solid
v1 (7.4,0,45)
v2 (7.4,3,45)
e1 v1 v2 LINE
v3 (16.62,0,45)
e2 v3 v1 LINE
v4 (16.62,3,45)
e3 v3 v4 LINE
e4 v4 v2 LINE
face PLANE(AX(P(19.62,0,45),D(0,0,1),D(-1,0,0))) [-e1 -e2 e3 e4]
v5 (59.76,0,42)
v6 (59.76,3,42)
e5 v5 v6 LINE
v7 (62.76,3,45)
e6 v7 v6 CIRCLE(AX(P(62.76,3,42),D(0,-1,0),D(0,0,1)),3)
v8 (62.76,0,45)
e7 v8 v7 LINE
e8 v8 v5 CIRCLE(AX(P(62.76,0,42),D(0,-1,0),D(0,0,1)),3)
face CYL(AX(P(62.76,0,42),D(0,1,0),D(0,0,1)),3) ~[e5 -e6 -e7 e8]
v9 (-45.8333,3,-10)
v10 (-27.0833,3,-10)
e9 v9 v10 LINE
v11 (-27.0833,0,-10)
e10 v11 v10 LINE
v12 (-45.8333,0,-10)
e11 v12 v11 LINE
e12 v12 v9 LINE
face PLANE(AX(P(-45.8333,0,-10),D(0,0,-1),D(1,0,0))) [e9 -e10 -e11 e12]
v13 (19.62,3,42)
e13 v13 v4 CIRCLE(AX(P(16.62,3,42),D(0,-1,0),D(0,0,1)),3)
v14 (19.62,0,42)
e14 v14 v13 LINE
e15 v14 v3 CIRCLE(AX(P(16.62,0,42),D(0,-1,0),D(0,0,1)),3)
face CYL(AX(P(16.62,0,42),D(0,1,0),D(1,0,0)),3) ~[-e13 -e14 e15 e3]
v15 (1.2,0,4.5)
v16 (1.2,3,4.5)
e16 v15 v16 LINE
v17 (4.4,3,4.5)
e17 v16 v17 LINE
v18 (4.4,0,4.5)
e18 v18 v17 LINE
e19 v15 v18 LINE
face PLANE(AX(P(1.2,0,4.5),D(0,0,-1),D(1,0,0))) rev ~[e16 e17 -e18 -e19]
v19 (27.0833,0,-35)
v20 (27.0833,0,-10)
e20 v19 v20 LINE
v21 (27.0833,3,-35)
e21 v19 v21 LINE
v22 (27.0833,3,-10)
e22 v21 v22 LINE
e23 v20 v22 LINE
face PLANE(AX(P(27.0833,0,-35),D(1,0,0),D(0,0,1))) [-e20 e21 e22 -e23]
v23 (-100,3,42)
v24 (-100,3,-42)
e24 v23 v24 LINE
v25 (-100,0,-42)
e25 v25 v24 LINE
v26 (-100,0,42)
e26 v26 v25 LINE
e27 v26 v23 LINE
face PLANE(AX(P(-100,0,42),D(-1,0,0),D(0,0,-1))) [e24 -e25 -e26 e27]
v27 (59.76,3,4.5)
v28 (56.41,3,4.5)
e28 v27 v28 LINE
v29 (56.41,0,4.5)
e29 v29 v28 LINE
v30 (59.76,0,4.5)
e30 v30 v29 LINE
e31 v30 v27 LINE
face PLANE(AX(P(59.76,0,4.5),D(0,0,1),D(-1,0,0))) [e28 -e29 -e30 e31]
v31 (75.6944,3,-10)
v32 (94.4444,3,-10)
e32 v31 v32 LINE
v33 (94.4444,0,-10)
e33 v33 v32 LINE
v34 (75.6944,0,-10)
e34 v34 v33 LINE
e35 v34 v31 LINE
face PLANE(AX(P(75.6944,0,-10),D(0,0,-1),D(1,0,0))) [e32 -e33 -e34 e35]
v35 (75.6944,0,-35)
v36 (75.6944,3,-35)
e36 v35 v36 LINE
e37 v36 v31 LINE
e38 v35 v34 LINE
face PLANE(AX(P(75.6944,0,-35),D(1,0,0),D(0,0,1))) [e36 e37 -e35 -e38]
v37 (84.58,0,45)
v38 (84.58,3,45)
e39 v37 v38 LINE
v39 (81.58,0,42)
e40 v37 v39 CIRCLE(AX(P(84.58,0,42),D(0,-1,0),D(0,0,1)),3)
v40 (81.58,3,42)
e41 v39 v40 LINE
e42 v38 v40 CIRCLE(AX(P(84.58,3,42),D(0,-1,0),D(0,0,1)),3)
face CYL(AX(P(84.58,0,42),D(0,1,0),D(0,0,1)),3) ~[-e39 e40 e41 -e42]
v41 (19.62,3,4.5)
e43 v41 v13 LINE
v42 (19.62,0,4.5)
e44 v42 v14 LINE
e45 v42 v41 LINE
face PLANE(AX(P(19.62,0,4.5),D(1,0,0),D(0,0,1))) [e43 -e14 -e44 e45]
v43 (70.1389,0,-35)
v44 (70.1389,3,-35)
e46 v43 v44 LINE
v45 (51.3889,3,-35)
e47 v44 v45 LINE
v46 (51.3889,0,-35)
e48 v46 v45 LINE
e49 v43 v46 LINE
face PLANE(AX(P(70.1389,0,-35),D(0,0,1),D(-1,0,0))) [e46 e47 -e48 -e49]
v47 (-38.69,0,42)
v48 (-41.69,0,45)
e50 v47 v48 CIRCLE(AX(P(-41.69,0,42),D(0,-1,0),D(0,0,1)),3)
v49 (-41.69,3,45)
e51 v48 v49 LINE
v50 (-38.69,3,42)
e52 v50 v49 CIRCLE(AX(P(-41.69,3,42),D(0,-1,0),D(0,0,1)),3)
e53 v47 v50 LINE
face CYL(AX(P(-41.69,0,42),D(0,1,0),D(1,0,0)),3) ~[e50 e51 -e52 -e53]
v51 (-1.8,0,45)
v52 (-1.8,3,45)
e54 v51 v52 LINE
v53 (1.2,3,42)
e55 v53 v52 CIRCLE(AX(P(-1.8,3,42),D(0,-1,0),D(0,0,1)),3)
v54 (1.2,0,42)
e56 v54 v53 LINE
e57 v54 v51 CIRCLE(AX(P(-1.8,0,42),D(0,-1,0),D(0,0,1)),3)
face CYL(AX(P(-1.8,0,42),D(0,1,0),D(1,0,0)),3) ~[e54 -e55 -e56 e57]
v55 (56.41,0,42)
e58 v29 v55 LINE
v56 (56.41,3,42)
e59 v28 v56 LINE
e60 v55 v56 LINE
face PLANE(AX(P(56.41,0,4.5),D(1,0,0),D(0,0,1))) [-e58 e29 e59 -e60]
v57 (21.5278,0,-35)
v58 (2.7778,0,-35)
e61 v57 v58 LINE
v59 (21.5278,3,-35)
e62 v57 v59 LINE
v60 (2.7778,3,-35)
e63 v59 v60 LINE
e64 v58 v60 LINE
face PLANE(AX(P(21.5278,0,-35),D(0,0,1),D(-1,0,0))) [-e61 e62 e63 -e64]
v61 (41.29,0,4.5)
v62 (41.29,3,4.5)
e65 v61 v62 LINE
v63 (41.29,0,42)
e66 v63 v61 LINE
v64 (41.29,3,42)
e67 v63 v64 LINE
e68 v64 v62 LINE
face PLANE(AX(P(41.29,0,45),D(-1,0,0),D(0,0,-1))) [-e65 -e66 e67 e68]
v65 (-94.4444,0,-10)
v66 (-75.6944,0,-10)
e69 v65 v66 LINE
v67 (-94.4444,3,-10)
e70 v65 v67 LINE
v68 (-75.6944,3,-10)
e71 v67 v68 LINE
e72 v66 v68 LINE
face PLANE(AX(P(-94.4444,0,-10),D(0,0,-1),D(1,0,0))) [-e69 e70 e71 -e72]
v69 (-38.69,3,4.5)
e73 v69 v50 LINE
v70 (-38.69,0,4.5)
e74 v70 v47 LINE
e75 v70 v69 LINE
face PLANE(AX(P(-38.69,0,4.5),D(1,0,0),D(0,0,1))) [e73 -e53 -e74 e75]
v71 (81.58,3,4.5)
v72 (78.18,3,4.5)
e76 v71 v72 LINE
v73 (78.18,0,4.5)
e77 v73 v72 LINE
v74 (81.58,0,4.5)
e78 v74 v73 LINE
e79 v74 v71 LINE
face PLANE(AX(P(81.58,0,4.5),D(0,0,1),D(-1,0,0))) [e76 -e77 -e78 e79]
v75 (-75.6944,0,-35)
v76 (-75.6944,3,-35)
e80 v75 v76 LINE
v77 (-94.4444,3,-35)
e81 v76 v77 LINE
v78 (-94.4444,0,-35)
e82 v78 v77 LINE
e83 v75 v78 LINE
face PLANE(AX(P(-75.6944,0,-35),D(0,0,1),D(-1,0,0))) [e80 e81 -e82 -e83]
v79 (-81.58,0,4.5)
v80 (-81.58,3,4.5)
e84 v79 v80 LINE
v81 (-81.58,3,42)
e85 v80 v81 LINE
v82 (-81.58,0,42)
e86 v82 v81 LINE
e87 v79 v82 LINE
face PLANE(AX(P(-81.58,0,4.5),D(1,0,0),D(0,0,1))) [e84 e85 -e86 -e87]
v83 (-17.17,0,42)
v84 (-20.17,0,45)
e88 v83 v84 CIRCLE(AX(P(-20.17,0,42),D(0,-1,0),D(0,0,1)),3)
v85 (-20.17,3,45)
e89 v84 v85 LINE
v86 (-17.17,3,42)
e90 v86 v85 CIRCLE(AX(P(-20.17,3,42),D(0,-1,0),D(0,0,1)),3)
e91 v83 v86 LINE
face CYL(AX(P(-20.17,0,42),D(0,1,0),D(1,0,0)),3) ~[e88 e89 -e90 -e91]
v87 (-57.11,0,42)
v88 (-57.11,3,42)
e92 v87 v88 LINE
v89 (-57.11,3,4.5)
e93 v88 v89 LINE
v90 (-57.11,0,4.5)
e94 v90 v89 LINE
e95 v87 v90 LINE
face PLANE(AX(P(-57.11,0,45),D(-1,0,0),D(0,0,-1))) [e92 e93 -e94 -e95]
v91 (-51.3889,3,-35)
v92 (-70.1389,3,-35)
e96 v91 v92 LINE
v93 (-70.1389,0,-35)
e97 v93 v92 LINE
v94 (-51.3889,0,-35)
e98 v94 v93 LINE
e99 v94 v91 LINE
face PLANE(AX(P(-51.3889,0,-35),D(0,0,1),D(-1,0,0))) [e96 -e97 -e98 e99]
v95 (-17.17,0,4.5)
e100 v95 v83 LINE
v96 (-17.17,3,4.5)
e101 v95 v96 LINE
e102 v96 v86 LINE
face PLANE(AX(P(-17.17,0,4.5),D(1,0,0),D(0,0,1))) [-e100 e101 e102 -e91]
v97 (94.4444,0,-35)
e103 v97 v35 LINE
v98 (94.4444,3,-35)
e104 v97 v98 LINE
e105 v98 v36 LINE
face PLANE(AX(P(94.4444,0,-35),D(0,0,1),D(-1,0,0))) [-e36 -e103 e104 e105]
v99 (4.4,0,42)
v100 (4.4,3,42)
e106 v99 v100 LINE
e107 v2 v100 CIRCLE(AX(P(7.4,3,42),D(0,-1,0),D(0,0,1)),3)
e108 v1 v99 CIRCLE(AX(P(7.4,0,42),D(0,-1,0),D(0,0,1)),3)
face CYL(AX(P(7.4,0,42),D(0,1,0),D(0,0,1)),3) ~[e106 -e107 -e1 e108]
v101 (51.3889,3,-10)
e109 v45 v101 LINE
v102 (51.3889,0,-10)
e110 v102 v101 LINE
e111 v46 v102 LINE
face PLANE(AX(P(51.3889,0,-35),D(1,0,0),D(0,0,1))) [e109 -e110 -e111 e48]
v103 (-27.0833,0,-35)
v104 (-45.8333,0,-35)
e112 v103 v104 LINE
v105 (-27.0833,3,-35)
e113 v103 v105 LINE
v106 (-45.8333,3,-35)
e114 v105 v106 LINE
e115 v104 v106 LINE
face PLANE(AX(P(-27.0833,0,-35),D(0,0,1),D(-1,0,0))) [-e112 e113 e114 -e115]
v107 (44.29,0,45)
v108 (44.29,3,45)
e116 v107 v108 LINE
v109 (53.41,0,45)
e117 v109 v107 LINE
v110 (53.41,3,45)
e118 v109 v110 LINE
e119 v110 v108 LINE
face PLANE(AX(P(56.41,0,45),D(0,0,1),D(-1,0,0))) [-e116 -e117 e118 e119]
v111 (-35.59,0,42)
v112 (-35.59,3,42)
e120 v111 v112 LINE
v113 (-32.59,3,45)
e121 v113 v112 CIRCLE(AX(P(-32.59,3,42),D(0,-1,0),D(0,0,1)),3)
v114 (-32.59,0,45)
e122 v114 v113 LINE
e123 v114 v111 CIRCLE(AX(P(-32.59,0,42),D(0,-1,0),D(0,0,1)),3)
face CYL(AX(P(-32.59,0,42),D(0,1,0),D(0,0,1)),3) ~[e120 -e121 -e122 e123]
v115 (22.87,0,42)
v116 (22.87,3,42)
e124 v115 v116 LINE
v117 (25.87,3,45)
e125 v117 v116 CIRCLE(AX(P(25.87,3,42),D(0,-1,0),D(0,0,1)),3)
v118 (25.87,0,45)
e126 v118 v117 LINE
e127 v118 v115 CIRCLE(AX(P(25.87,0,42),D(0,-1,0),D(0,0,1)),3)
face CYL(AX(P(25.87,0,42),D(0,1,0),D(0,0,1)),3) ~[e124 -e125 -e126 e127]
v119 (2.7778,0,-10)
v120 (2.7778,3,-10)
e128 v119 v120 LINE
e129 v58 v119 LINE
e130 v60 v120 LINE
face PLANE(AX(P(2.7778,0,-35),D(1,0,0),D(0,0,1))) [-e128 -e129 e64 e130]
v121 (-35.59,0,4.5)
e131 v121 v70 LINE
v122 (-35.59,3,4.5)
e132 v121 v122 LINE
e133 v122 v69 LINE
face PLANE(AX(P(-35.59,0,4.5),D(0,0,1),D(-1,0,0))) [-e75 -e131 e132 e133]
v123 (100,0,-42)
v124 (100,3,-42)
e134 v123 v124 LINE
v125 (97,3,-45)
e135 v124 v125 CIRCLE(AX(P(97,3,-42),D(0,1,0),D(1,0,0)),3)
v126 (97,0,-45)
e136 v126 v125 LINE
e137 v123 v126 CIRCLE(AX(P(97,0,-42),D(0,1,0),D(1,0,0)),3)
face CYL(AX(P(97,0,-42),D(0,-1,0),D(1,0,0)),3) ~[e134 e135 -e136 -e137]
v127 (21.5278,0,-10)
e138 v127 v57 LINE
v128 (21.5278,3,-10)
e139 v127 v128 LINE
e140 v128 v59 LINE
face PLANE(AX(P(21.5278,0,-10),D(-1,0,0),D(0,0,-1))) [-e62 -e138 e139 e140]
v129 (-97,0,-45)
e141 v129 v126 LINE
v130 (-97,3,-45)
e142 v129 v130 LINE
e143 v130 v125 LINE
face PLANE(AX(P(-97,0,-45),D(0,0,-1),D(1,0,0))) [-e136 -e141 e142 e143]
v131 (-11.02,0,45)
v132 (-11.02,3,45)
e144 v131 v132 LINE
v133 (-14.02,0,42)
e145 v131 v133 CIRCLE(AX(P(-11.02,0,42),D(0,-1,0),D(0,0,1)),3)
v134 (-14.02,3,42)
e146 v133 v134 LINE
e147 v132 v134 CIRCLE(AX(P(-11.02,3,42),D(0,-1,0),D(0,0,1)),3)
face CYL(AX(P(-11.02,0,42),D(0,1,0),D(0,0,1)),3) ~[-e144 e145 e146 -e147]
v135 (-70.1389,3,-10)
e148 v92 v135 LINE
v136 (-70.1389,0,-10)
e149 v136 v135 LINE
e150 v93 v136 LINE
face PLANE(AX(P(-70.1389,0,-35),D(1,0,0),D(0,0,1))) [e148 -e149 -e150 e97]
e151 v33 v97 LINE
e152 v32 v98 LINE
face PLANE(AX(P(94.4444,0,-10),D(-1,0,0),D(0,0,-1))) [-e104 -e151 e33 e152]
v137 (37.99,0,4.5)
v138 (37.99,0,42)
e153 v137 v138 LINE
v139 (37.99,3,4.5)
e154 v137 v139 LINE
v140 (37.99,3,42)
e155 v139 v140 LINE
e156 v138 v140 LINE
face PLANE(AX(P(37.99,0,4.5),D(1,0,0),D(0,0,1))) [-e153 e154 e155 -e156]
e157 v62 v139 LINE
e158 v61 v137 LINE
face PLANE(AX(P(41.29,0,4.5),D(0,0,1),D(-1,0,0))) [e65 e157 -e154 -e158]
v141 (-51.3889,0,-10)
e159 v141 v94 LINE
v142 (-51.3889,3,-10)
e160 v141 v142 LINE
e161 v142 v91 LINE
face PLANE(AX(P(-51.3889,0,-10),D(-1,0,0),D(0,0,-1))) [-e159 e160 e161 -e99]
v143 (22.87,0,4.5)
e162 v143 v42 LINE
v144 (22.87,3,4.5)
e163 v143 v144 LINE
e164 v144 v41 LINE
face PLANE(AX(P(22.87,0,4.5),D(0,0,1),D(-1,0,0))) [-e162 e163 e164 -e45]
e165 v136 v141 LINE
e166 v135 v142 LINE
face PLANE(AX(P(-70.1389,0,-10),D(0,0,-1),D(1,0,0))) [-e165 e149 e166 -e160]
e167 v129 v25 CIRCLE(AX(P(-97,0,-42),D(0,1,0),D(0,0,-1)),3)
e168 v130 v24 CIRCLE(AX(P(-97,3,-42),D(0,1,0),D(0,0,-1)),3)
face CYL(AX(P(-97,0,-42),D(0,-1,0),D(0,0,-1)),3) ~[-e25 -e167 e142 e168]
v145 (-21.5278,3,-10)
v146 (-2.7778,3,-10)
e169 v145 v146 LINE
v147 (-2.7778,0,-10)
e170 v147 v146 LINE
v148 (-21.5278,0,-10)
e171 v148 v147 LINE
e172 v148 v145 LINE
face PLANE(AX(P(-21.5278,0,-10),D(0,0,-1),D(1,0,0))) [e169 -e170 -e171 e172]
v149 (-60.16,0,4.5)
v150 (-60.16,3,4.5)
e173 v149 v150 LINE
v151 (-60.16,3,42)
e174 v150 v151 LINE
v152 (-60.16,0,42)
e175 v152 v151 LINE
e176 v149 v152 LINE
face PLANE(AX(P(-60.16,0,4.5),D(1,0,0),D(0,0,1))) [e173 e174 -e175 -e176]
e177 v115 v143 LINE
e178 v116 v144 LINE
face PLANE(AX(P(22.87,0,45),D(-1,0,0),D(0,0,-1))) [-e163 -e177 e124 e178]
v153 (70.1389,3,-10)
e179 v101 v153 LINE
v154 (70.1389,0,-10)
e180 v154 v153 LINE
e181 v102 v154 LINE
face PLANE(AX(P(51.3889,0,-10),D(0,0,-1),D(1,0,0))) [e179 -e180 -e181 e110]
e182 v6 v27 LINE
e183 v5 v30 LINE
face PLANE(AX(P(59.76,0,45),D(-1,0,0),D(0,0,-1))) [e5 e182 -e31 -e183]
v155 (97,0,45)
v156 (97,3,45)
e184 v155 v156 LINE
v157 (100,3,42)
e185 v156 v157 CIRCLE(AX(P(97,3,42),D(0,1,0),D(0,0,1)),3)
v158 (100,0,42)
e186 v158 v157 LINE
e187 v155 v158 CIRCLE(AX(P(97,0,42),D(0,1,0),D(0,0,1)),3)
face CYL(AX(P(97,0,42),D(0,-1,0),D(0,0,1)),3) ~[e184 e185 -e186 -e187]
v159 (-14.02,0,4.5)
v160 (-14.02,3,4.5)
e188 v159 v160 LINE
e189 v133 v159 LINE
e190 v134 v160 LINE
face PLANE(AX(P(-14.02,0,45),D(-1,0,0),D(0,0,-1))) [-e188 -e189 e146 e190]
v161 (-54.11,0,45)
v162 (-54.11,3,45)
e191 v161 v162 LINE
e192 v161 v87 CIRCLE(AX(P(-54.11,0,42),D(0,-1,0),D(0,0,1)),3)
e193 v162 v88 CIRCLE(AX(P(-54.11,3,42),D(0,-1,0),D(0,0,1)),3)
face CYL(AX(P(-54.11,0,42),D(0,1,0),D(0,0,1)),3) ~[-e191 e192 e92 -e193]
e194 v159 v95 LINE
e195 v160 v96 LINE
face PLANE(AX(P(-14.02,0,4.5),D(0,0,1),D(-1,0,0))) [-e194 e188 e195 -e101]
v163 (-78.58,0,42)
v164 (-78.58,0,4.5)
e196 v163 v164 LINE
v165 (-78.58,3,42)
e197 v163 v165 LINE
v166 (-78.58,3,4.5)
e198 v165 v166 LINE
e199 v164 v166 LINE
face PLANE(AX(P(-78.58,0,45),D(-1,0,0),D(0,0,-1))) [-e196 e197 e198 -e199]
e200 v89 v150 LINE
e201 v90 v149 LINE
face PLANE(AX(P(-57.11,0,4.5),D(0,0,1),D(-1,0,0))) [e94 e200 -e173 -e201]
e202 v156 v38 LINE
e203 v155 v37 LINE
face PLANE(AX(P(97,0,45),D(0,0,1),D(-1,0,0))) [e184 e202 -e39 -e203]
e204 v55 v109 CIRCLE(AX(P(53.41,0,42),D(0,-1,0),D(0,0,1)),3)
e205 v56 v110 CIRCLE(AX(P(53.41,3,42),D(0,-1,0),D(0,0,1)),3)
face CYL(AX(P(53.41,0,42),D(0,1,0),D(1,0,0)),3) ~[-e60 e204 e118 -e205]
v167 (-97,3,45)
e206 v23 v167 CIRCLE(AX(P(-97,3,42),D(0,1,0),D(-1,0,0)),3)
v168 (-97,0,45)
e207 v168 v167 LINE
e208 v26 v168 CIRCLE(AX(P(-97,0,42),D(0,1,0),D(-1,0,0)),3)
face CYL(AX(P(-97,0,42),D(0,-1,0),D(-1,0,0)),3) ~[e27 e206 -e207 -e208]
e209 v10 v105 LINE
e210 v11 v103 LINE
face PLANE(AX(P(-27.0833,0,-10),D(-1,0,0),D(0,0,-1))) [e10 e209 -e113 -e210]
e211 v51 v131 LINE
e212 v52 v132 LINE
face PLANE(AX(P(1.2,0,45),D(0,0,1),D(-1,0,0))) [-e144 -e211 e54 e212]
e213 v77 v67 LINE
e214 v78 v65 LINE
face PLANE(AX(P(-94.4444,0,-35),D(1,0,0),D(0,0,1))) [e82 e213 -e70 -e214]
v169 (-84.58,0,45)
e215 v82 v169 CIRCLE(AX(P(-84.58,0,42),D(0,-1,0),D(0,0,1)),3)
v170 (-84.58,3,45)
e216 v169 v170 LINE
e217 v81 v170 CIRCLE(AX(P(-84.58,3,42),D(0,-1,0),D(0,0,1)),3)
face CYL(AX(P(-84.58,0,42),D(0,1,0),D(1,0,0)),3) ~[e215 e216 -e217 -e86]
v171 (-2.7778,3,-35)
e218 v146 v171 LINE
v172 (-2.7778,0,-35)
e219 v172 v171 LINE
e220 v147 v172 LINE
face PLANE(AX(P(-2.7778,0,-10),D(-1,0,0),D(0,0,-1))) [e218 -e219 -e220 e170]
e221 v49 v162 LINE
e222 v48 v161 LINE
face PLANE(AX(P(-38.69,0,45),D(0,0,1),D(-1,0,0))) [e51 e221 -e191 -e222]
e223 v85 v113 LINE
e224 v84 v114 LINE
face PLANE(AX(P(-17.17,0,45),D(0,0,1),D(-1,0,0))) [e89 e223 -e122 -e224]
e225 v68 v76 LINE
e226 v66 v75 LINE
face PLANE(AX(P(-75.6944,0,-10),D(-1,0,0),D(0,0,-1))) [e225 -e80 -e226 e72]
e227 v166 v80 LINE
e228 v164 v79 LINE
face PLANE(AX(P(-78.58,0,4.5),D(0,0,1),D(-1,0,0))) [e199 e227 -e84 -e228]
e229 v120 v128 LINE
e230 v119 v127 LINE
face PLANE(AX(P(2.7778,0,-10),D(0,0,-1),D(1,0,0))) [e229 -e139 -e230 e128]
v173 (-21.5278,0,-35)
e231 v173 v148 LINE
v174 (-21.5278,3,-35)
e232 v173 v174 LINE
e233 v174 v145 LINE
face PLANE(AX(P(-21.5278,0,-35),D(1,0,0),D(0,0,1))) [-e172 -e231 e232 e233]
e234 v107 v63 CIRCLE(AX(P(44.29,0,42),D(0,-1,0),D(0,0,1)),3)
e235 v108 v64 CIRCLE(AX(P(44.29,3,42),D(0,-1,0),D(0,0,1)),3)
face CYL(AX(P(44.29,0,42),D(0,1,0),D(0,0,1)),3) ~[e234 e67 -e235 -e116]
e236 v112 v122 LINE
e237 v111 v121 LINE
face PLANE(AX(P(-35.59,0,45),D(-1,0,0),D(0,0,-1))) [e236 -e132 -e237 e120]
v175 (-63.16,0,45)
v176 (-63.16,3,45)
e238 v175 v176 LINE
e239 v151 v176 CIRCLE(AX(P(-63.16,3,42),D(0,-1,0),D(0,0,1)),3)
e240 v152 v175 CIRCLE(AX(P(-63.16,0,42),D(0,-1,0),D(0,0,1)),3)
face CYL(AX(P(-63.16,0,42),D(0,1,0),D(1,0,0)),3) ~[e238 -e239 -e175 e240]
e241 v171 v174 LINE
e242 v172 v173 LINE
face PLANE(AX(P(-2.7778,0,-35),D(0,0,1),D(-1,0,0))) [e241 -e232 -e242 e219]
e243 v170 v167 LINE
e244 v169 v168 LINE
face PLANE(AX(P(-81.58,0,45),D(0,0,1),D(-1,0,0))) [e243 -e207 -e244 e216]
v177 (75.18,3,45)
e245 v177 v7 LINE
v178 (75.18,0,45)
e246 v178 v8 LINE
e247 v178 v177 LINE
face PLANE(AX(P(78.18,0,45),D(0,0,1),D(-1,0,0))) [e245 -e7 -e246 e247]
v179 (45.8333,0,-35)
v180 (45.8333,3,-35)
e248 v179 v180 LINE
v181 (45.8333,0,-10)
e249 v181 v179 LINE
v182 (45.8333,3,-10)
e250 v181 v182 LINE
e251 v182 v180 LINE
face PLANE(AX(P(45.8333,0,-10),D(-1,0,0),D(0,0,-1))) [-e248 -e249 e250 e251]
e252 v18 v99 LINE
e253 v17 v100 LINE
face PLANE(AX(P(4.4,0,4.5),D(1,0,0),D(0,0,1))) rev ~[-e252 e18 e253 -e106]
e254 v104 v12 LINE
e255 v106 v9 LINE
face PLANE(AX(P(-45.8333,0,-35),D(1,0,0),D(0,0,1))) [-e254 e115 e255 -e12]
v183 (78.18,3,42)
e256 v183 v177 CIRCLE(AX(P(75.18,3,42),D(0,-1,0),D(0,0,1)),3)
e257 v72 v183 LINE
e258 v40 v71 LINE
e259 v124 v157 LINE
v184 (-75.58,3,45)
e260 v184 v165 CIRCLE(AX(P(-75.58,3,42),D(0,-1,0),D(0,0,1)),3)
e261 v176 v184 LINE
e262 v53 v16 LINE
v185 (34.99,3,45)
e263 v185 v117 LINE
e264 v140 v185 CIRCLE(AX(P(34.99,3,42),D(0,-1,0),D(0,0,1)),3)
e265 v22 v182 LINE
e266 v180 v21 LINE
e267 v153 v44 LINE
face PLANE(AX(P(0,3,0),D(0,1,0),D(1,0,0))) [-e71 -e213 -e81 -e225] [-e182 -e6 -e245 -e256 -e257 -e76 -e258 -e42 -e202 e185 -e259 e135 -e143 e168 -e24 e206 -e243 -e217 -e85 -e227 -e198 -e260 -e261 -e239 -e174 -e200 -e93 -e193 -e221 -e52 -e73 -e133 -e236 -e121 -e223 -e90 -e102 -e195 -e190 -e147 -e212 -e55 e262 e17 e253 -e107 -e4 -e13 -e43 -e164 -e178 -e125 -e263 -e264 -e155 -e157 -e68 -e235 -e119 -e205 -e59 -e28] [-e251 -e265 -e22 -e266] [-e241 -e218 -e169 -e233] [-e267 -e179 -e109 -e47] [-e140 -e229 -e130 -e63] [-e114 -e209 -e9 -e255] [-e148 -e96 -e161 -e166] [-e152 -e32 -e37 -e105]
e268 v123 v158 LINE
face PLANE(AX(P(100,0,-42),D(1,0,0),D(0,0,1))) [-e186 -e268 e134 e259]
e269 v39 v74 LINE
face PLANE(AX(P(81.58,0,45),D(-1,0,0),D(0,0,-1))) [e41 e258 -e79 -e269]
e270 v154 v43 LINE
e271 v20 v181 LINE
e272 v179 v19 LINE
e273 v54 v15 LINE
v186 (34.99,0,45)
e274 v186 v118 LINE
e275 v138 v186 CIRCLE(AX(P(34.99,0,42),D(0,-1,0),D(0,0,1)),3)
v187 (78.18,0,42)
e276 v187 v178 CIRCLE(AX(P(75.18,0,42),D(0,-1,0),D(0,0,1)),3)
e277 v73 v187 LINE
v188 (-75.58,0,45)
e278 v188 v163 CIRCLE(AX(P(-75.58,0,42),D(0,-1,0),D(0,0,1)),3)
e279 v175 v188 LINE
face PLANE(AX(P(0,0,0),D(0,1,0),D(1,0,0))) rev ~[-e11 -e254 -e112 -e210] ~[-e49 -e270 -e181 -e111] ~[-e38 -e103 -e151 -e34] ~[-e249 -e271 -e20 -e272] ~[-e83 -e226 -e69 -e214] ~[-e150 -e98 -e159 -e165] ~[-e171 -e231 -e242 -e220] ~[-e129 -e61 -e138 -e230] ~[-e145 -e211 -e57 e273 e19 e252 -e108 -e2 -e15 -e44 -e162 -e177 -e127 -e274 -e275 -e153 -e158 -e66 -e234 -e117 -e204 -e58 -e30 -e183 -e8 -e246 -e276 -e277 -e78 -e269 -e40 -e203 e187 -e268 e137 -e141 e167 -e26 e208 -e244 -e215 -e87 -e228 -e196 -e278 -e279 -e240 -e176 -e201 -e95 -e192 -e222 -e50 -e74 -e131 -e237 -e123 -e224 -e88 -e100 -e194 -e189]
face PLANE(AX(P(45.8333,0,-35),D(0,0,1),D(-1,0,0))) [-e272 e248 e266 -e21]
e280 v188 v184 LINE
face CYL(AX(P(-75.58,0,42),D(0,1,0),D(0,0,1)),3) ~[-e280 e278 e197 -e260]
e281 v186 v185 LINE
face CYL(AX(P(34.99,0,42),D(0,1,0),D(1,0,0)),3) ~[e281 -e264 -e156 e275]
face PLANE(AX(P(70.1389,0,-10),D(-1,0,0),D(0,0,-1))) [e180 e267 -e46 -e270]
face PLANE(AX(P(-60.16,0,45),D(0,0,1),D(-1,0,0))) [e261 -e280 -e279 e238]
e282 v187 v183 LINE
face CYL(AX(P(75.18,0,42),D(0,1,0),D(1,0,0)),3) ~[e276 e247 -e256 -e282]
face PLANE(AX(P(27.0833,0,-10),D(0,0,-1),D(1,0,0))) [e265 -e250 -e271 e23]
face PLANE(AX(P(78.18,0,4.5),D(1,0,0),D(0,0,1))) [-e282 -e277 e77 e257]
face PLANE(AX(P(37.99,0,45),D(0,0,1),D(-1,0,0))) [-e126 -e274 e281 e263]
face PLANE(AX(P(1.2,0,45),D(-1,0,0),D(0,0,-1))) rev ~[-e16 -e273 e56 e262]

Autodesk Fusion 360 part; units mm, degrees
sketch "Sketch1" plane through (0, 0, 0) normal (0, 1, 0) x (1, 0, 0)
  line L0 (-97, 45) -> (97, 45)
  line L1 (100, 42) -> (100, -42)
  line L2 (97, -45) -> (-97, -45)
  line L3 (-100, -42) -> (-100, 42)
  line L4 (-100, 45) -> (100, -45) construction
  line L5 (100, 45) -> (-100, -45) construction
  arc A0 (-100, -42) -> (-97, -45) centre (-97, -42) ccw
  arc A1 (97, -45) -> (100, -42) centre (97, -42) ccw
  arc A2 (100, 42) -> (97, 45) centre (97, 42) ccw
  arc A3 (-97, 45) -> (-100, 42) centre (-97, 42) ccw
  line L6 (-94.4444, 10) -> (-75.6944, 10)
  line L7 (-75.6944, 10) -> (-75.6944, 35)
  line L8 (-75.6944, 35) -> (-94.4444, 35)
  line L9 (-94.4444, 35) -> (-94.4444, 10)
  line L10 (-70.1389, 10) -> (-51.3889, 10)
  line L11 (-70.1389, 35) -> (-70.1389, 10)
  line L12 (-51.3889, 10) -> (-51.3889, 35)
  line L13 (-51.3889, 35) -> (-70.1389, 35)
  line L14 (-45.8333, 10) -> (-27.0833, 10)
  line L15 (-45.8333, 35) -> (-45.8333, 10)
  line L16 (-27.0833, 10) -> (-27.0833, 35)
  line L17 (-27.0833, 35) -> (-45.8333, 35)
  line L18 (-21.5278, 10) -> (-2.7778, 10)
  line L19 (-21.5278, 35) -> (-21.5278, 10)
  line L20 (-2.7778, 10) -> (-2.7778, 35)
  line L21 (-2.7778, 35) -> (-21.5278, 35)
  line L22 (2.7778, 10) -> (21.5278, 10)
  line L23 (2.7778, 35) -> (2.7778, 10)
  line L24 (21.5278, 10) -> (21.5278, 35)
  line L25 (21.5278, 35) -> (2.7778, 35)
  line L26 (27.0833, 10) -> (45.8333, 10)
  line L27 (27.0833, 35) -> (27.0833, 10)
  line L28 (45.8333, 10) -> (45.8333, 35)
  line L29 (45.8333, 35) -> (27.0833, 35)
  line L30 (51.3889, 10) -> (70.1389, 10)
  line L31 (51.3889, 35) -> (51.3889, 10)
  line L32 (70.1389, 10) -> (70.1389, 35)
  line L33 (70.1389, 35) -> (51.3889, 35)
  line L34 (75.6944, 10) -> (94.4444, 10)
  line L35 (75.6944, 35) -> (75.6944, 10)
  line L36 (94.4444, 10) -> (94.4444, 35)
  line L37 (94.4444, 35) -> (75.6944, 35)
  line L38 (-81.58, -45) -> (-78.58, -45)
  line L39 (-78.58, -45) -> (-78.58, -4.5)
  line L40 (-78.58, -4.5) -> (-81.58, -4.5)
  line L41 (-81.58, -4.5) -> (-81.58, -45)
  line L42 (-60.16, -45) -> (-57.11, -45)
  line L43 (-57.11, -45) -> (-57.11, -4.5)
  line L44 (-57.11, -4.5) -> (-60.16, -4.5)
  line L45 (-60.16, -4.5) -> (-60.16, -45)
  line L46 (-38.69, -45) -> (-35.59, -45)
  line L47 (-35.59, -45) -> (-35.59, -4.5)
  line L48 (-35.59, -4.5) -> (-38.69, -4.5)
  line L49 (-38.69, -4.5) -> (-38.69, -45)
  line L50 (-17.17, -45) -> (-14.02, -45)
  line L51 (-14.02, -45) -> (-14.02, -4.5)
  line L52 (-14.02, -4.5) -> (-17.17, -4.5)
  line L53 (-17.17, -4.5) -> (-17.17, -45)
  line L54 (4.4, -45) -> (1.2, -45)
  line L55 (1.2, -45) -> (1.2, -4.5)
  line L56 (1.2, -4.5) -> (4.4, -4.5)
  line L57 (4.4, -4.5) -> (4.4, -45)
  line L58 (19.62, -45) -> (22.87, -45)
  line L59 (22.87, -45) -> (22.87, -4.5)
  line L60 (22.87, -4.5) -> (19.62, -4.5)
  line L61 (19.62, -4.5) -> (19.62, -45)
  line L62 (56.41, -45) -> (59.76, -45)
  line L63 (59.76, -45) -> (59.76, -4.5)
  line L64 (59.76, -4.5) -> (56.41, -4.5)
  line L65 (56.41, -4.5) -> (56.41, -45)
  line L66 (78.18, -45) -> (81.58, -45)
  line L67 (81.58, -45) -> (81.58, -4.5)
  line L68 (81.58, -4.5) -> (78.18, -4.5)
  line L69 (78.18, -4.5) -> (78.18, -45)
  line L70 (37.99, -45) -> (41.29, -45)
  line L71 (41.29, -45) -> (41.29, -4.5)
  line L72 (41.29, -4.5) -> (37.99, -4.5)
  line L73 (37.99, -4.5) -> (37.99, -45)
  line L74 (-100, -24.75) -> (-81.58, -24.75) construction
  line L75 (-57.11, -24.75) -> (-38.69, -24.75) construction
  line L76 (-35.59, -24.75) -> (-17.17, -24.75) construction
  line L77 (-14.02, -24.75) -> (4.4, -24.75) construction
  line L78 (1.2, -24.75) -> (19.62, -24.75) construction
  line L79 (22.87, -24.75) -> (41.29, -24.75) construction
  line L80 (37.99, -24.75) -> (56.41, -24.75) construction
  line L81 (59.76, -24.75) -> (78.18, -24.75) construction
  line L82 (81.58, -24.75) -> (100, -24.75) construction
  line L83 (-78.58, -24.75) -> (-60.16, -24.75) construction
  dimension "d8" = 3
  dimension "d9" = 90
  dimension "d10" = 200
  dimension "d16" = 5.5556
  dimension "d17" = 10
  dimension "d18" = 10
  dimension "d19" = 18.75
  dimension "d22" = 24.3056
  dimension "d23" = 0
  dimension "d24" = 3
  dimension "d25" = 40.5
  dimension "d26" = 3.05
  dimension "d27" = 3.1
  dimension "d28" = 3.15
  dimension "d29" = 3.2
  dimension "d30" = 3.25
  dimension "d31" = 3.3
  dimension "d32" = 3.35
  dimension "d33" = 3.4
extrude "Extrude1" add sketch "Sketch1" along normal blind 3 contours L0 L1 L2 L3 A0 A1 A2 A3 L39 L40 L41 L43 L44 L45 L47 L48 L49 L51 L52 L53 L55 L56 L57 L59 L60 L61 L63 L64 L65 L67 L68 L69 L71 L72 L73
fillet "Fillet1" radius 3 18 edges at (-81.58, 1.5, 45) (-78.58, 1.5, 45) (-60.16, 1.5, 45) (-57.11, 1.5, 45) (-35.59, 1.5, 45) (-38.69, 1.5, 45) (-14.02, 1.5, 45) (-17.17, 1.5, 45) (1.2, 1.5, 45) (4.4, 1.5, 45) (19.62, 1.5, 45) (22.87, 1.5, 45) (37.99, 1.5, 45) (41.29, 1.5, 45) (56.41, 1.5, 45) (59.76, 1.5, 45) (78.18, 1.5, 45) (81.58, 1.5, 45)
sketch "Sketch2" plane through (0, 0, 0) normal (0, -1, 0) x (1, 0, 0)
  line L0 (94.4444, -35) -> (75.6944, -35)
  line L1 (75.6944, -35) -> (75.6944, -10)
  line L2 (75.6944, -10) -> (94.4444, -10)
  line L3 (94.4444, -10) -> (94.4444, -35)
  line L4 (-94.4444, -35) -> (-94.4444, -10)
  line L5 (-94.4444, -10) -> (-75.6944, -10)
  line L6 (-75.6944, -10) -> (-75.6944, -35)
  line L7 (-75.6944, -35) -> (-94.4444, -35)
  line L8 (70.1389, -35) -> (51.3889, -35)
  line L9 (51.3889, -35) -> (51.3889, -10)
  line L10 (51.3889, -10) -> (70.1389, -10)
  line L11 (70.1389, -10) -> (70.1389, -35)
  line L12 (-2.7778, -35) -> (-21.5278, -35)
  line L13 (-21.5278, -35) -> (-21.5278, -10)
  line L14 (-21.5278, -10) -> (-2.7778, -10)
  line L15 (-2.7778, -10) -> (-2.7778, -35)
  line L16 (21.5278, -35) -> (2.7778, -35)
  line L17 (2.7778, -35) -> (2.7778, -10)
  line L18 (2.7778, -10) -> (21.5278, -10)
  line L19 (21.5278, -10) -> (21.5278, -35)
  line L20 (-51.3889, -35) -> (-70.1389, -35)
  line L21 (-70.1389, -35) -> (-70.1389, -10)
  line L22 (-70.1389, -10) -> (-51.3889, -10)
  line L23 (-51.3889, -10) -> (-51.3889, -35)
  line L24 (-27.0833, -35) -> (-45.8333, -35)
  line L25 (-45.8333, -35) -> (-45.8333, -10)
  line L26 (-45.8333, -10) -> (-27.0833, -10)
  line L27 (-27.0833, -10) -> (-27.0833, -35)
  line L28 (45.8333, -35) -> (27.0833, -35)
  line L29 (27.0833, -35) -> (27.0833, -10)
  line L30 (27.0833, -10) -> (45.8333, -10)
  line L31 (45.8333, -10) -> (45.8333, -35)
  arc A0 (84.58, 45) -> (81.58, 42) centre (84.58, 42) ccw
  line L32 (81.58, 42) -> (81.58, 4.5)
  line L33 (81.58, 4.5) -> (78.18, 4.5)
  line L34 (78.18, 4.5) -> (78.18, 42)
  arc A1 (78.18, 42) -> (75.18, 45) centre (75.18, 42) ccw
  line L35 (75.18, 45) -> (62.76, 45)
  arc A2 (62.76, 45) -> (59.76, 42) centre (62.76, 42) ccw
  line L36 (59.76, 42) -> (59.76, 4.5)
  line L37 (59.76, 4.5) -> (56.41, 4.5)
  line L38 (56.41, 4.5) -> (56.41, 42)
  arc A3 (56.41, 42) -> (53.41, 45) centre (53.41, 42) ccw
  line L39 (53.41, 45) -> (44.29, 45)
  arc A4 (44.29, 45) -> (41.29, 42) centre (44.29, 42) ccw
  line L40 (41.29, 42) -> (41.29, 4.5)
  line L41 (41.29, 4.5) -> (37.99, 4.5)
  line L42 (37.99, 4.5) -> (37.99, 42)
  arc A5 (37.99, 42) -> (34.99, 45) centre (34.99, 42) ccw
  line L43 (34.99, 45) -> (25.87, 45)
  arc A6 (25.87, 45) -> (22.87, 42) centre (25.87, 42) ccw
  line L44 (22.87, 42) -> (22.87, 4.5)
  line L45 (22.87, 4.5) -> (19.62, 4.5)
  line L46 (19.62, 4.5) -> (19.62, 42)
  arc A7 (19.62, 42) -> (16.62, 45) centre (16.62, 42) ccw
  line L47 (16.62, 45) -> (7.4, 45)
  arc A8 (7.4, 45) -> (4.4, 42) centre (7.4, 42) ccw
  line L48 (4.4, 42) -> (4.4, 4.5)
  line L49 (4.4, 4.5) -> (1.2, 4.5)
  line L50 (1.2, 4.5) -> (1.2, 42)
  arc A9 (1.2, 42) -> (-1.8, 45) centre (-1.8, 42) ccw
  line L51 (-1.8, 45) -> (-11.02, 45)
  arc A10 (-11.02, 45) -> (-14.02, 42) centre (-11.02, 42) ccw
  line L52 (-14.02, 42) -> (-14.02, 4.5)
  line L53 (-14.02, 4.5) -> (-17.17, 4.5)
  line L54 (-17.17, 4.5) -> (-17.17, 42)
  arc A11 (-17.17, 42) -> (-20.17, 45) centre (-20.17, 42) ccw
  line L55 (-20.17, 45) -> (-32.59, 45)
  arc A12 (-32.59, 45) -> (-35.59, 42) centre (-32.59, 42) ccw
  line L56 (-35.59, 42) -> (-35.59, 4.5)
  line L57 (-35.59, 4.5) -> (-38.69, 4.5)
  line L58 (-38.69, 4.5) -> (-38.69, 42)
  arc A13 (-38.69, 42) -> (-41.69, 45) centre (-41.69, 42) ccw
  line L59 (-41.69, 45) -> (-54.11, 45)
  arc A14 (-54.11, 45) -> (-57.11, 42) centre (-54.11, 42) ccw
  line L60 (-57.11, 42) -> (-57.11, 4.5)
  line L61 (-57.11, 4.5) -> (-60.16, 4.5)
  line L62 (-60.16, 4.5) -> (-60.16, 42)
  arc A15 (-60.16, 42) -> (-63.16, 45) centre (-63.16, 42) ccw
  line L63 (-63.16, 45) -> (-75.58, 45)
  arc A16 (-75.58, 45) -> (-78.58, 42) centre (-75.58, 42) ccw
  line L64 (-78.58, 42) -> (-78.58, 4.5)
  line L65 (-78.58, 4.5) -> (-81.58, 4.5)
  line L66 (-81.58, 4.5) -> (-81.58, 42)
  arc A17 (-81.58, 42) -> (-84.58, 45) centre (-84.58, 42) ccw
  line L67 (-84.58, 45) -> (-97, 45)
  arc A18 (-97, 45) -> (-100, 42) centre (-97, 42) ccw
  line L68 (-100, 42) -> (-100, -42)
  arc A19 (-100, -42) -> (-97, -45) centre (-97, -42) ccw
  line L69 (-97, -45) -> (97, -45)
  arc A20 (97, -45) -> (100, -42) centre (97, -42) ccw
  line L70 (100, -42) -> (100, 42)
  arc A21 (100, 42) -> (97, 45) centre (97, 42) ccw
  line L71 (97, 45) -> (84.58, 45)
equation "Wbox = 200 mm" comment "Width of bounding box"
equation "Hbox = 90 mm" comment "Height of box"
equation "Thickness = 3 mm" comment "Thickness of stock used"
equation "Kerfincrement = 0.05 mm" comment "the value with which the kerf is increased"
equation "Diameter = 5 mm" comment "Dia of hole"
equation "Fillet = 3 mm" comment "Fillet around bouding box"
equation "Kerfsteps = 6 mm"
equation "d8 = Fillet"
equation "d9 = Hbox"
equation "d10 = Wbox"
equation "PScount = 8" comment "No of power boxes"
equation "PSwidth = ( Wbox * 0.75 ) / PScount" comment "powerbox width"
equation "PSgap = ( Wbox - ( PSwidth * PScount ) ) / ( PScount + 1 )" comment "gap b/w power boxes"
equation "d16 = PSgap"
equation "d17 = Wbox * 0.05"
equation "d18 = Wbox * 0.05"
equation "d19 = PSwidth"
equation "d20 = PScount"
equation "d22 = PSwidth + PSgap"
equation "d24 = Thickness"
equation "d25 = 0.45 * Hbox"
equation "d26 = Thickness + ( 1 * Kerfincrement )"
equation "d27 = Thickness + ( 2 * Kerfincrement )"
equation "d28 = Thickness + ( 3 * Kerfincrement )"
equation "d29 = Thickness + ( 4 * Kerfincrement )"
equation "d30 = Thickness + ( 5 * Kerfincrement )"
equation "d31 = Thickness + ( 6 * Kerfincrement )"
equation "d32 = Thickness + ( 7 * Kerfincrement )"
equation "d33 = Thickness + ( 8 * Kerfincrement )"
equation "d34 = Thickness"
equation "d37 = Fillet"
